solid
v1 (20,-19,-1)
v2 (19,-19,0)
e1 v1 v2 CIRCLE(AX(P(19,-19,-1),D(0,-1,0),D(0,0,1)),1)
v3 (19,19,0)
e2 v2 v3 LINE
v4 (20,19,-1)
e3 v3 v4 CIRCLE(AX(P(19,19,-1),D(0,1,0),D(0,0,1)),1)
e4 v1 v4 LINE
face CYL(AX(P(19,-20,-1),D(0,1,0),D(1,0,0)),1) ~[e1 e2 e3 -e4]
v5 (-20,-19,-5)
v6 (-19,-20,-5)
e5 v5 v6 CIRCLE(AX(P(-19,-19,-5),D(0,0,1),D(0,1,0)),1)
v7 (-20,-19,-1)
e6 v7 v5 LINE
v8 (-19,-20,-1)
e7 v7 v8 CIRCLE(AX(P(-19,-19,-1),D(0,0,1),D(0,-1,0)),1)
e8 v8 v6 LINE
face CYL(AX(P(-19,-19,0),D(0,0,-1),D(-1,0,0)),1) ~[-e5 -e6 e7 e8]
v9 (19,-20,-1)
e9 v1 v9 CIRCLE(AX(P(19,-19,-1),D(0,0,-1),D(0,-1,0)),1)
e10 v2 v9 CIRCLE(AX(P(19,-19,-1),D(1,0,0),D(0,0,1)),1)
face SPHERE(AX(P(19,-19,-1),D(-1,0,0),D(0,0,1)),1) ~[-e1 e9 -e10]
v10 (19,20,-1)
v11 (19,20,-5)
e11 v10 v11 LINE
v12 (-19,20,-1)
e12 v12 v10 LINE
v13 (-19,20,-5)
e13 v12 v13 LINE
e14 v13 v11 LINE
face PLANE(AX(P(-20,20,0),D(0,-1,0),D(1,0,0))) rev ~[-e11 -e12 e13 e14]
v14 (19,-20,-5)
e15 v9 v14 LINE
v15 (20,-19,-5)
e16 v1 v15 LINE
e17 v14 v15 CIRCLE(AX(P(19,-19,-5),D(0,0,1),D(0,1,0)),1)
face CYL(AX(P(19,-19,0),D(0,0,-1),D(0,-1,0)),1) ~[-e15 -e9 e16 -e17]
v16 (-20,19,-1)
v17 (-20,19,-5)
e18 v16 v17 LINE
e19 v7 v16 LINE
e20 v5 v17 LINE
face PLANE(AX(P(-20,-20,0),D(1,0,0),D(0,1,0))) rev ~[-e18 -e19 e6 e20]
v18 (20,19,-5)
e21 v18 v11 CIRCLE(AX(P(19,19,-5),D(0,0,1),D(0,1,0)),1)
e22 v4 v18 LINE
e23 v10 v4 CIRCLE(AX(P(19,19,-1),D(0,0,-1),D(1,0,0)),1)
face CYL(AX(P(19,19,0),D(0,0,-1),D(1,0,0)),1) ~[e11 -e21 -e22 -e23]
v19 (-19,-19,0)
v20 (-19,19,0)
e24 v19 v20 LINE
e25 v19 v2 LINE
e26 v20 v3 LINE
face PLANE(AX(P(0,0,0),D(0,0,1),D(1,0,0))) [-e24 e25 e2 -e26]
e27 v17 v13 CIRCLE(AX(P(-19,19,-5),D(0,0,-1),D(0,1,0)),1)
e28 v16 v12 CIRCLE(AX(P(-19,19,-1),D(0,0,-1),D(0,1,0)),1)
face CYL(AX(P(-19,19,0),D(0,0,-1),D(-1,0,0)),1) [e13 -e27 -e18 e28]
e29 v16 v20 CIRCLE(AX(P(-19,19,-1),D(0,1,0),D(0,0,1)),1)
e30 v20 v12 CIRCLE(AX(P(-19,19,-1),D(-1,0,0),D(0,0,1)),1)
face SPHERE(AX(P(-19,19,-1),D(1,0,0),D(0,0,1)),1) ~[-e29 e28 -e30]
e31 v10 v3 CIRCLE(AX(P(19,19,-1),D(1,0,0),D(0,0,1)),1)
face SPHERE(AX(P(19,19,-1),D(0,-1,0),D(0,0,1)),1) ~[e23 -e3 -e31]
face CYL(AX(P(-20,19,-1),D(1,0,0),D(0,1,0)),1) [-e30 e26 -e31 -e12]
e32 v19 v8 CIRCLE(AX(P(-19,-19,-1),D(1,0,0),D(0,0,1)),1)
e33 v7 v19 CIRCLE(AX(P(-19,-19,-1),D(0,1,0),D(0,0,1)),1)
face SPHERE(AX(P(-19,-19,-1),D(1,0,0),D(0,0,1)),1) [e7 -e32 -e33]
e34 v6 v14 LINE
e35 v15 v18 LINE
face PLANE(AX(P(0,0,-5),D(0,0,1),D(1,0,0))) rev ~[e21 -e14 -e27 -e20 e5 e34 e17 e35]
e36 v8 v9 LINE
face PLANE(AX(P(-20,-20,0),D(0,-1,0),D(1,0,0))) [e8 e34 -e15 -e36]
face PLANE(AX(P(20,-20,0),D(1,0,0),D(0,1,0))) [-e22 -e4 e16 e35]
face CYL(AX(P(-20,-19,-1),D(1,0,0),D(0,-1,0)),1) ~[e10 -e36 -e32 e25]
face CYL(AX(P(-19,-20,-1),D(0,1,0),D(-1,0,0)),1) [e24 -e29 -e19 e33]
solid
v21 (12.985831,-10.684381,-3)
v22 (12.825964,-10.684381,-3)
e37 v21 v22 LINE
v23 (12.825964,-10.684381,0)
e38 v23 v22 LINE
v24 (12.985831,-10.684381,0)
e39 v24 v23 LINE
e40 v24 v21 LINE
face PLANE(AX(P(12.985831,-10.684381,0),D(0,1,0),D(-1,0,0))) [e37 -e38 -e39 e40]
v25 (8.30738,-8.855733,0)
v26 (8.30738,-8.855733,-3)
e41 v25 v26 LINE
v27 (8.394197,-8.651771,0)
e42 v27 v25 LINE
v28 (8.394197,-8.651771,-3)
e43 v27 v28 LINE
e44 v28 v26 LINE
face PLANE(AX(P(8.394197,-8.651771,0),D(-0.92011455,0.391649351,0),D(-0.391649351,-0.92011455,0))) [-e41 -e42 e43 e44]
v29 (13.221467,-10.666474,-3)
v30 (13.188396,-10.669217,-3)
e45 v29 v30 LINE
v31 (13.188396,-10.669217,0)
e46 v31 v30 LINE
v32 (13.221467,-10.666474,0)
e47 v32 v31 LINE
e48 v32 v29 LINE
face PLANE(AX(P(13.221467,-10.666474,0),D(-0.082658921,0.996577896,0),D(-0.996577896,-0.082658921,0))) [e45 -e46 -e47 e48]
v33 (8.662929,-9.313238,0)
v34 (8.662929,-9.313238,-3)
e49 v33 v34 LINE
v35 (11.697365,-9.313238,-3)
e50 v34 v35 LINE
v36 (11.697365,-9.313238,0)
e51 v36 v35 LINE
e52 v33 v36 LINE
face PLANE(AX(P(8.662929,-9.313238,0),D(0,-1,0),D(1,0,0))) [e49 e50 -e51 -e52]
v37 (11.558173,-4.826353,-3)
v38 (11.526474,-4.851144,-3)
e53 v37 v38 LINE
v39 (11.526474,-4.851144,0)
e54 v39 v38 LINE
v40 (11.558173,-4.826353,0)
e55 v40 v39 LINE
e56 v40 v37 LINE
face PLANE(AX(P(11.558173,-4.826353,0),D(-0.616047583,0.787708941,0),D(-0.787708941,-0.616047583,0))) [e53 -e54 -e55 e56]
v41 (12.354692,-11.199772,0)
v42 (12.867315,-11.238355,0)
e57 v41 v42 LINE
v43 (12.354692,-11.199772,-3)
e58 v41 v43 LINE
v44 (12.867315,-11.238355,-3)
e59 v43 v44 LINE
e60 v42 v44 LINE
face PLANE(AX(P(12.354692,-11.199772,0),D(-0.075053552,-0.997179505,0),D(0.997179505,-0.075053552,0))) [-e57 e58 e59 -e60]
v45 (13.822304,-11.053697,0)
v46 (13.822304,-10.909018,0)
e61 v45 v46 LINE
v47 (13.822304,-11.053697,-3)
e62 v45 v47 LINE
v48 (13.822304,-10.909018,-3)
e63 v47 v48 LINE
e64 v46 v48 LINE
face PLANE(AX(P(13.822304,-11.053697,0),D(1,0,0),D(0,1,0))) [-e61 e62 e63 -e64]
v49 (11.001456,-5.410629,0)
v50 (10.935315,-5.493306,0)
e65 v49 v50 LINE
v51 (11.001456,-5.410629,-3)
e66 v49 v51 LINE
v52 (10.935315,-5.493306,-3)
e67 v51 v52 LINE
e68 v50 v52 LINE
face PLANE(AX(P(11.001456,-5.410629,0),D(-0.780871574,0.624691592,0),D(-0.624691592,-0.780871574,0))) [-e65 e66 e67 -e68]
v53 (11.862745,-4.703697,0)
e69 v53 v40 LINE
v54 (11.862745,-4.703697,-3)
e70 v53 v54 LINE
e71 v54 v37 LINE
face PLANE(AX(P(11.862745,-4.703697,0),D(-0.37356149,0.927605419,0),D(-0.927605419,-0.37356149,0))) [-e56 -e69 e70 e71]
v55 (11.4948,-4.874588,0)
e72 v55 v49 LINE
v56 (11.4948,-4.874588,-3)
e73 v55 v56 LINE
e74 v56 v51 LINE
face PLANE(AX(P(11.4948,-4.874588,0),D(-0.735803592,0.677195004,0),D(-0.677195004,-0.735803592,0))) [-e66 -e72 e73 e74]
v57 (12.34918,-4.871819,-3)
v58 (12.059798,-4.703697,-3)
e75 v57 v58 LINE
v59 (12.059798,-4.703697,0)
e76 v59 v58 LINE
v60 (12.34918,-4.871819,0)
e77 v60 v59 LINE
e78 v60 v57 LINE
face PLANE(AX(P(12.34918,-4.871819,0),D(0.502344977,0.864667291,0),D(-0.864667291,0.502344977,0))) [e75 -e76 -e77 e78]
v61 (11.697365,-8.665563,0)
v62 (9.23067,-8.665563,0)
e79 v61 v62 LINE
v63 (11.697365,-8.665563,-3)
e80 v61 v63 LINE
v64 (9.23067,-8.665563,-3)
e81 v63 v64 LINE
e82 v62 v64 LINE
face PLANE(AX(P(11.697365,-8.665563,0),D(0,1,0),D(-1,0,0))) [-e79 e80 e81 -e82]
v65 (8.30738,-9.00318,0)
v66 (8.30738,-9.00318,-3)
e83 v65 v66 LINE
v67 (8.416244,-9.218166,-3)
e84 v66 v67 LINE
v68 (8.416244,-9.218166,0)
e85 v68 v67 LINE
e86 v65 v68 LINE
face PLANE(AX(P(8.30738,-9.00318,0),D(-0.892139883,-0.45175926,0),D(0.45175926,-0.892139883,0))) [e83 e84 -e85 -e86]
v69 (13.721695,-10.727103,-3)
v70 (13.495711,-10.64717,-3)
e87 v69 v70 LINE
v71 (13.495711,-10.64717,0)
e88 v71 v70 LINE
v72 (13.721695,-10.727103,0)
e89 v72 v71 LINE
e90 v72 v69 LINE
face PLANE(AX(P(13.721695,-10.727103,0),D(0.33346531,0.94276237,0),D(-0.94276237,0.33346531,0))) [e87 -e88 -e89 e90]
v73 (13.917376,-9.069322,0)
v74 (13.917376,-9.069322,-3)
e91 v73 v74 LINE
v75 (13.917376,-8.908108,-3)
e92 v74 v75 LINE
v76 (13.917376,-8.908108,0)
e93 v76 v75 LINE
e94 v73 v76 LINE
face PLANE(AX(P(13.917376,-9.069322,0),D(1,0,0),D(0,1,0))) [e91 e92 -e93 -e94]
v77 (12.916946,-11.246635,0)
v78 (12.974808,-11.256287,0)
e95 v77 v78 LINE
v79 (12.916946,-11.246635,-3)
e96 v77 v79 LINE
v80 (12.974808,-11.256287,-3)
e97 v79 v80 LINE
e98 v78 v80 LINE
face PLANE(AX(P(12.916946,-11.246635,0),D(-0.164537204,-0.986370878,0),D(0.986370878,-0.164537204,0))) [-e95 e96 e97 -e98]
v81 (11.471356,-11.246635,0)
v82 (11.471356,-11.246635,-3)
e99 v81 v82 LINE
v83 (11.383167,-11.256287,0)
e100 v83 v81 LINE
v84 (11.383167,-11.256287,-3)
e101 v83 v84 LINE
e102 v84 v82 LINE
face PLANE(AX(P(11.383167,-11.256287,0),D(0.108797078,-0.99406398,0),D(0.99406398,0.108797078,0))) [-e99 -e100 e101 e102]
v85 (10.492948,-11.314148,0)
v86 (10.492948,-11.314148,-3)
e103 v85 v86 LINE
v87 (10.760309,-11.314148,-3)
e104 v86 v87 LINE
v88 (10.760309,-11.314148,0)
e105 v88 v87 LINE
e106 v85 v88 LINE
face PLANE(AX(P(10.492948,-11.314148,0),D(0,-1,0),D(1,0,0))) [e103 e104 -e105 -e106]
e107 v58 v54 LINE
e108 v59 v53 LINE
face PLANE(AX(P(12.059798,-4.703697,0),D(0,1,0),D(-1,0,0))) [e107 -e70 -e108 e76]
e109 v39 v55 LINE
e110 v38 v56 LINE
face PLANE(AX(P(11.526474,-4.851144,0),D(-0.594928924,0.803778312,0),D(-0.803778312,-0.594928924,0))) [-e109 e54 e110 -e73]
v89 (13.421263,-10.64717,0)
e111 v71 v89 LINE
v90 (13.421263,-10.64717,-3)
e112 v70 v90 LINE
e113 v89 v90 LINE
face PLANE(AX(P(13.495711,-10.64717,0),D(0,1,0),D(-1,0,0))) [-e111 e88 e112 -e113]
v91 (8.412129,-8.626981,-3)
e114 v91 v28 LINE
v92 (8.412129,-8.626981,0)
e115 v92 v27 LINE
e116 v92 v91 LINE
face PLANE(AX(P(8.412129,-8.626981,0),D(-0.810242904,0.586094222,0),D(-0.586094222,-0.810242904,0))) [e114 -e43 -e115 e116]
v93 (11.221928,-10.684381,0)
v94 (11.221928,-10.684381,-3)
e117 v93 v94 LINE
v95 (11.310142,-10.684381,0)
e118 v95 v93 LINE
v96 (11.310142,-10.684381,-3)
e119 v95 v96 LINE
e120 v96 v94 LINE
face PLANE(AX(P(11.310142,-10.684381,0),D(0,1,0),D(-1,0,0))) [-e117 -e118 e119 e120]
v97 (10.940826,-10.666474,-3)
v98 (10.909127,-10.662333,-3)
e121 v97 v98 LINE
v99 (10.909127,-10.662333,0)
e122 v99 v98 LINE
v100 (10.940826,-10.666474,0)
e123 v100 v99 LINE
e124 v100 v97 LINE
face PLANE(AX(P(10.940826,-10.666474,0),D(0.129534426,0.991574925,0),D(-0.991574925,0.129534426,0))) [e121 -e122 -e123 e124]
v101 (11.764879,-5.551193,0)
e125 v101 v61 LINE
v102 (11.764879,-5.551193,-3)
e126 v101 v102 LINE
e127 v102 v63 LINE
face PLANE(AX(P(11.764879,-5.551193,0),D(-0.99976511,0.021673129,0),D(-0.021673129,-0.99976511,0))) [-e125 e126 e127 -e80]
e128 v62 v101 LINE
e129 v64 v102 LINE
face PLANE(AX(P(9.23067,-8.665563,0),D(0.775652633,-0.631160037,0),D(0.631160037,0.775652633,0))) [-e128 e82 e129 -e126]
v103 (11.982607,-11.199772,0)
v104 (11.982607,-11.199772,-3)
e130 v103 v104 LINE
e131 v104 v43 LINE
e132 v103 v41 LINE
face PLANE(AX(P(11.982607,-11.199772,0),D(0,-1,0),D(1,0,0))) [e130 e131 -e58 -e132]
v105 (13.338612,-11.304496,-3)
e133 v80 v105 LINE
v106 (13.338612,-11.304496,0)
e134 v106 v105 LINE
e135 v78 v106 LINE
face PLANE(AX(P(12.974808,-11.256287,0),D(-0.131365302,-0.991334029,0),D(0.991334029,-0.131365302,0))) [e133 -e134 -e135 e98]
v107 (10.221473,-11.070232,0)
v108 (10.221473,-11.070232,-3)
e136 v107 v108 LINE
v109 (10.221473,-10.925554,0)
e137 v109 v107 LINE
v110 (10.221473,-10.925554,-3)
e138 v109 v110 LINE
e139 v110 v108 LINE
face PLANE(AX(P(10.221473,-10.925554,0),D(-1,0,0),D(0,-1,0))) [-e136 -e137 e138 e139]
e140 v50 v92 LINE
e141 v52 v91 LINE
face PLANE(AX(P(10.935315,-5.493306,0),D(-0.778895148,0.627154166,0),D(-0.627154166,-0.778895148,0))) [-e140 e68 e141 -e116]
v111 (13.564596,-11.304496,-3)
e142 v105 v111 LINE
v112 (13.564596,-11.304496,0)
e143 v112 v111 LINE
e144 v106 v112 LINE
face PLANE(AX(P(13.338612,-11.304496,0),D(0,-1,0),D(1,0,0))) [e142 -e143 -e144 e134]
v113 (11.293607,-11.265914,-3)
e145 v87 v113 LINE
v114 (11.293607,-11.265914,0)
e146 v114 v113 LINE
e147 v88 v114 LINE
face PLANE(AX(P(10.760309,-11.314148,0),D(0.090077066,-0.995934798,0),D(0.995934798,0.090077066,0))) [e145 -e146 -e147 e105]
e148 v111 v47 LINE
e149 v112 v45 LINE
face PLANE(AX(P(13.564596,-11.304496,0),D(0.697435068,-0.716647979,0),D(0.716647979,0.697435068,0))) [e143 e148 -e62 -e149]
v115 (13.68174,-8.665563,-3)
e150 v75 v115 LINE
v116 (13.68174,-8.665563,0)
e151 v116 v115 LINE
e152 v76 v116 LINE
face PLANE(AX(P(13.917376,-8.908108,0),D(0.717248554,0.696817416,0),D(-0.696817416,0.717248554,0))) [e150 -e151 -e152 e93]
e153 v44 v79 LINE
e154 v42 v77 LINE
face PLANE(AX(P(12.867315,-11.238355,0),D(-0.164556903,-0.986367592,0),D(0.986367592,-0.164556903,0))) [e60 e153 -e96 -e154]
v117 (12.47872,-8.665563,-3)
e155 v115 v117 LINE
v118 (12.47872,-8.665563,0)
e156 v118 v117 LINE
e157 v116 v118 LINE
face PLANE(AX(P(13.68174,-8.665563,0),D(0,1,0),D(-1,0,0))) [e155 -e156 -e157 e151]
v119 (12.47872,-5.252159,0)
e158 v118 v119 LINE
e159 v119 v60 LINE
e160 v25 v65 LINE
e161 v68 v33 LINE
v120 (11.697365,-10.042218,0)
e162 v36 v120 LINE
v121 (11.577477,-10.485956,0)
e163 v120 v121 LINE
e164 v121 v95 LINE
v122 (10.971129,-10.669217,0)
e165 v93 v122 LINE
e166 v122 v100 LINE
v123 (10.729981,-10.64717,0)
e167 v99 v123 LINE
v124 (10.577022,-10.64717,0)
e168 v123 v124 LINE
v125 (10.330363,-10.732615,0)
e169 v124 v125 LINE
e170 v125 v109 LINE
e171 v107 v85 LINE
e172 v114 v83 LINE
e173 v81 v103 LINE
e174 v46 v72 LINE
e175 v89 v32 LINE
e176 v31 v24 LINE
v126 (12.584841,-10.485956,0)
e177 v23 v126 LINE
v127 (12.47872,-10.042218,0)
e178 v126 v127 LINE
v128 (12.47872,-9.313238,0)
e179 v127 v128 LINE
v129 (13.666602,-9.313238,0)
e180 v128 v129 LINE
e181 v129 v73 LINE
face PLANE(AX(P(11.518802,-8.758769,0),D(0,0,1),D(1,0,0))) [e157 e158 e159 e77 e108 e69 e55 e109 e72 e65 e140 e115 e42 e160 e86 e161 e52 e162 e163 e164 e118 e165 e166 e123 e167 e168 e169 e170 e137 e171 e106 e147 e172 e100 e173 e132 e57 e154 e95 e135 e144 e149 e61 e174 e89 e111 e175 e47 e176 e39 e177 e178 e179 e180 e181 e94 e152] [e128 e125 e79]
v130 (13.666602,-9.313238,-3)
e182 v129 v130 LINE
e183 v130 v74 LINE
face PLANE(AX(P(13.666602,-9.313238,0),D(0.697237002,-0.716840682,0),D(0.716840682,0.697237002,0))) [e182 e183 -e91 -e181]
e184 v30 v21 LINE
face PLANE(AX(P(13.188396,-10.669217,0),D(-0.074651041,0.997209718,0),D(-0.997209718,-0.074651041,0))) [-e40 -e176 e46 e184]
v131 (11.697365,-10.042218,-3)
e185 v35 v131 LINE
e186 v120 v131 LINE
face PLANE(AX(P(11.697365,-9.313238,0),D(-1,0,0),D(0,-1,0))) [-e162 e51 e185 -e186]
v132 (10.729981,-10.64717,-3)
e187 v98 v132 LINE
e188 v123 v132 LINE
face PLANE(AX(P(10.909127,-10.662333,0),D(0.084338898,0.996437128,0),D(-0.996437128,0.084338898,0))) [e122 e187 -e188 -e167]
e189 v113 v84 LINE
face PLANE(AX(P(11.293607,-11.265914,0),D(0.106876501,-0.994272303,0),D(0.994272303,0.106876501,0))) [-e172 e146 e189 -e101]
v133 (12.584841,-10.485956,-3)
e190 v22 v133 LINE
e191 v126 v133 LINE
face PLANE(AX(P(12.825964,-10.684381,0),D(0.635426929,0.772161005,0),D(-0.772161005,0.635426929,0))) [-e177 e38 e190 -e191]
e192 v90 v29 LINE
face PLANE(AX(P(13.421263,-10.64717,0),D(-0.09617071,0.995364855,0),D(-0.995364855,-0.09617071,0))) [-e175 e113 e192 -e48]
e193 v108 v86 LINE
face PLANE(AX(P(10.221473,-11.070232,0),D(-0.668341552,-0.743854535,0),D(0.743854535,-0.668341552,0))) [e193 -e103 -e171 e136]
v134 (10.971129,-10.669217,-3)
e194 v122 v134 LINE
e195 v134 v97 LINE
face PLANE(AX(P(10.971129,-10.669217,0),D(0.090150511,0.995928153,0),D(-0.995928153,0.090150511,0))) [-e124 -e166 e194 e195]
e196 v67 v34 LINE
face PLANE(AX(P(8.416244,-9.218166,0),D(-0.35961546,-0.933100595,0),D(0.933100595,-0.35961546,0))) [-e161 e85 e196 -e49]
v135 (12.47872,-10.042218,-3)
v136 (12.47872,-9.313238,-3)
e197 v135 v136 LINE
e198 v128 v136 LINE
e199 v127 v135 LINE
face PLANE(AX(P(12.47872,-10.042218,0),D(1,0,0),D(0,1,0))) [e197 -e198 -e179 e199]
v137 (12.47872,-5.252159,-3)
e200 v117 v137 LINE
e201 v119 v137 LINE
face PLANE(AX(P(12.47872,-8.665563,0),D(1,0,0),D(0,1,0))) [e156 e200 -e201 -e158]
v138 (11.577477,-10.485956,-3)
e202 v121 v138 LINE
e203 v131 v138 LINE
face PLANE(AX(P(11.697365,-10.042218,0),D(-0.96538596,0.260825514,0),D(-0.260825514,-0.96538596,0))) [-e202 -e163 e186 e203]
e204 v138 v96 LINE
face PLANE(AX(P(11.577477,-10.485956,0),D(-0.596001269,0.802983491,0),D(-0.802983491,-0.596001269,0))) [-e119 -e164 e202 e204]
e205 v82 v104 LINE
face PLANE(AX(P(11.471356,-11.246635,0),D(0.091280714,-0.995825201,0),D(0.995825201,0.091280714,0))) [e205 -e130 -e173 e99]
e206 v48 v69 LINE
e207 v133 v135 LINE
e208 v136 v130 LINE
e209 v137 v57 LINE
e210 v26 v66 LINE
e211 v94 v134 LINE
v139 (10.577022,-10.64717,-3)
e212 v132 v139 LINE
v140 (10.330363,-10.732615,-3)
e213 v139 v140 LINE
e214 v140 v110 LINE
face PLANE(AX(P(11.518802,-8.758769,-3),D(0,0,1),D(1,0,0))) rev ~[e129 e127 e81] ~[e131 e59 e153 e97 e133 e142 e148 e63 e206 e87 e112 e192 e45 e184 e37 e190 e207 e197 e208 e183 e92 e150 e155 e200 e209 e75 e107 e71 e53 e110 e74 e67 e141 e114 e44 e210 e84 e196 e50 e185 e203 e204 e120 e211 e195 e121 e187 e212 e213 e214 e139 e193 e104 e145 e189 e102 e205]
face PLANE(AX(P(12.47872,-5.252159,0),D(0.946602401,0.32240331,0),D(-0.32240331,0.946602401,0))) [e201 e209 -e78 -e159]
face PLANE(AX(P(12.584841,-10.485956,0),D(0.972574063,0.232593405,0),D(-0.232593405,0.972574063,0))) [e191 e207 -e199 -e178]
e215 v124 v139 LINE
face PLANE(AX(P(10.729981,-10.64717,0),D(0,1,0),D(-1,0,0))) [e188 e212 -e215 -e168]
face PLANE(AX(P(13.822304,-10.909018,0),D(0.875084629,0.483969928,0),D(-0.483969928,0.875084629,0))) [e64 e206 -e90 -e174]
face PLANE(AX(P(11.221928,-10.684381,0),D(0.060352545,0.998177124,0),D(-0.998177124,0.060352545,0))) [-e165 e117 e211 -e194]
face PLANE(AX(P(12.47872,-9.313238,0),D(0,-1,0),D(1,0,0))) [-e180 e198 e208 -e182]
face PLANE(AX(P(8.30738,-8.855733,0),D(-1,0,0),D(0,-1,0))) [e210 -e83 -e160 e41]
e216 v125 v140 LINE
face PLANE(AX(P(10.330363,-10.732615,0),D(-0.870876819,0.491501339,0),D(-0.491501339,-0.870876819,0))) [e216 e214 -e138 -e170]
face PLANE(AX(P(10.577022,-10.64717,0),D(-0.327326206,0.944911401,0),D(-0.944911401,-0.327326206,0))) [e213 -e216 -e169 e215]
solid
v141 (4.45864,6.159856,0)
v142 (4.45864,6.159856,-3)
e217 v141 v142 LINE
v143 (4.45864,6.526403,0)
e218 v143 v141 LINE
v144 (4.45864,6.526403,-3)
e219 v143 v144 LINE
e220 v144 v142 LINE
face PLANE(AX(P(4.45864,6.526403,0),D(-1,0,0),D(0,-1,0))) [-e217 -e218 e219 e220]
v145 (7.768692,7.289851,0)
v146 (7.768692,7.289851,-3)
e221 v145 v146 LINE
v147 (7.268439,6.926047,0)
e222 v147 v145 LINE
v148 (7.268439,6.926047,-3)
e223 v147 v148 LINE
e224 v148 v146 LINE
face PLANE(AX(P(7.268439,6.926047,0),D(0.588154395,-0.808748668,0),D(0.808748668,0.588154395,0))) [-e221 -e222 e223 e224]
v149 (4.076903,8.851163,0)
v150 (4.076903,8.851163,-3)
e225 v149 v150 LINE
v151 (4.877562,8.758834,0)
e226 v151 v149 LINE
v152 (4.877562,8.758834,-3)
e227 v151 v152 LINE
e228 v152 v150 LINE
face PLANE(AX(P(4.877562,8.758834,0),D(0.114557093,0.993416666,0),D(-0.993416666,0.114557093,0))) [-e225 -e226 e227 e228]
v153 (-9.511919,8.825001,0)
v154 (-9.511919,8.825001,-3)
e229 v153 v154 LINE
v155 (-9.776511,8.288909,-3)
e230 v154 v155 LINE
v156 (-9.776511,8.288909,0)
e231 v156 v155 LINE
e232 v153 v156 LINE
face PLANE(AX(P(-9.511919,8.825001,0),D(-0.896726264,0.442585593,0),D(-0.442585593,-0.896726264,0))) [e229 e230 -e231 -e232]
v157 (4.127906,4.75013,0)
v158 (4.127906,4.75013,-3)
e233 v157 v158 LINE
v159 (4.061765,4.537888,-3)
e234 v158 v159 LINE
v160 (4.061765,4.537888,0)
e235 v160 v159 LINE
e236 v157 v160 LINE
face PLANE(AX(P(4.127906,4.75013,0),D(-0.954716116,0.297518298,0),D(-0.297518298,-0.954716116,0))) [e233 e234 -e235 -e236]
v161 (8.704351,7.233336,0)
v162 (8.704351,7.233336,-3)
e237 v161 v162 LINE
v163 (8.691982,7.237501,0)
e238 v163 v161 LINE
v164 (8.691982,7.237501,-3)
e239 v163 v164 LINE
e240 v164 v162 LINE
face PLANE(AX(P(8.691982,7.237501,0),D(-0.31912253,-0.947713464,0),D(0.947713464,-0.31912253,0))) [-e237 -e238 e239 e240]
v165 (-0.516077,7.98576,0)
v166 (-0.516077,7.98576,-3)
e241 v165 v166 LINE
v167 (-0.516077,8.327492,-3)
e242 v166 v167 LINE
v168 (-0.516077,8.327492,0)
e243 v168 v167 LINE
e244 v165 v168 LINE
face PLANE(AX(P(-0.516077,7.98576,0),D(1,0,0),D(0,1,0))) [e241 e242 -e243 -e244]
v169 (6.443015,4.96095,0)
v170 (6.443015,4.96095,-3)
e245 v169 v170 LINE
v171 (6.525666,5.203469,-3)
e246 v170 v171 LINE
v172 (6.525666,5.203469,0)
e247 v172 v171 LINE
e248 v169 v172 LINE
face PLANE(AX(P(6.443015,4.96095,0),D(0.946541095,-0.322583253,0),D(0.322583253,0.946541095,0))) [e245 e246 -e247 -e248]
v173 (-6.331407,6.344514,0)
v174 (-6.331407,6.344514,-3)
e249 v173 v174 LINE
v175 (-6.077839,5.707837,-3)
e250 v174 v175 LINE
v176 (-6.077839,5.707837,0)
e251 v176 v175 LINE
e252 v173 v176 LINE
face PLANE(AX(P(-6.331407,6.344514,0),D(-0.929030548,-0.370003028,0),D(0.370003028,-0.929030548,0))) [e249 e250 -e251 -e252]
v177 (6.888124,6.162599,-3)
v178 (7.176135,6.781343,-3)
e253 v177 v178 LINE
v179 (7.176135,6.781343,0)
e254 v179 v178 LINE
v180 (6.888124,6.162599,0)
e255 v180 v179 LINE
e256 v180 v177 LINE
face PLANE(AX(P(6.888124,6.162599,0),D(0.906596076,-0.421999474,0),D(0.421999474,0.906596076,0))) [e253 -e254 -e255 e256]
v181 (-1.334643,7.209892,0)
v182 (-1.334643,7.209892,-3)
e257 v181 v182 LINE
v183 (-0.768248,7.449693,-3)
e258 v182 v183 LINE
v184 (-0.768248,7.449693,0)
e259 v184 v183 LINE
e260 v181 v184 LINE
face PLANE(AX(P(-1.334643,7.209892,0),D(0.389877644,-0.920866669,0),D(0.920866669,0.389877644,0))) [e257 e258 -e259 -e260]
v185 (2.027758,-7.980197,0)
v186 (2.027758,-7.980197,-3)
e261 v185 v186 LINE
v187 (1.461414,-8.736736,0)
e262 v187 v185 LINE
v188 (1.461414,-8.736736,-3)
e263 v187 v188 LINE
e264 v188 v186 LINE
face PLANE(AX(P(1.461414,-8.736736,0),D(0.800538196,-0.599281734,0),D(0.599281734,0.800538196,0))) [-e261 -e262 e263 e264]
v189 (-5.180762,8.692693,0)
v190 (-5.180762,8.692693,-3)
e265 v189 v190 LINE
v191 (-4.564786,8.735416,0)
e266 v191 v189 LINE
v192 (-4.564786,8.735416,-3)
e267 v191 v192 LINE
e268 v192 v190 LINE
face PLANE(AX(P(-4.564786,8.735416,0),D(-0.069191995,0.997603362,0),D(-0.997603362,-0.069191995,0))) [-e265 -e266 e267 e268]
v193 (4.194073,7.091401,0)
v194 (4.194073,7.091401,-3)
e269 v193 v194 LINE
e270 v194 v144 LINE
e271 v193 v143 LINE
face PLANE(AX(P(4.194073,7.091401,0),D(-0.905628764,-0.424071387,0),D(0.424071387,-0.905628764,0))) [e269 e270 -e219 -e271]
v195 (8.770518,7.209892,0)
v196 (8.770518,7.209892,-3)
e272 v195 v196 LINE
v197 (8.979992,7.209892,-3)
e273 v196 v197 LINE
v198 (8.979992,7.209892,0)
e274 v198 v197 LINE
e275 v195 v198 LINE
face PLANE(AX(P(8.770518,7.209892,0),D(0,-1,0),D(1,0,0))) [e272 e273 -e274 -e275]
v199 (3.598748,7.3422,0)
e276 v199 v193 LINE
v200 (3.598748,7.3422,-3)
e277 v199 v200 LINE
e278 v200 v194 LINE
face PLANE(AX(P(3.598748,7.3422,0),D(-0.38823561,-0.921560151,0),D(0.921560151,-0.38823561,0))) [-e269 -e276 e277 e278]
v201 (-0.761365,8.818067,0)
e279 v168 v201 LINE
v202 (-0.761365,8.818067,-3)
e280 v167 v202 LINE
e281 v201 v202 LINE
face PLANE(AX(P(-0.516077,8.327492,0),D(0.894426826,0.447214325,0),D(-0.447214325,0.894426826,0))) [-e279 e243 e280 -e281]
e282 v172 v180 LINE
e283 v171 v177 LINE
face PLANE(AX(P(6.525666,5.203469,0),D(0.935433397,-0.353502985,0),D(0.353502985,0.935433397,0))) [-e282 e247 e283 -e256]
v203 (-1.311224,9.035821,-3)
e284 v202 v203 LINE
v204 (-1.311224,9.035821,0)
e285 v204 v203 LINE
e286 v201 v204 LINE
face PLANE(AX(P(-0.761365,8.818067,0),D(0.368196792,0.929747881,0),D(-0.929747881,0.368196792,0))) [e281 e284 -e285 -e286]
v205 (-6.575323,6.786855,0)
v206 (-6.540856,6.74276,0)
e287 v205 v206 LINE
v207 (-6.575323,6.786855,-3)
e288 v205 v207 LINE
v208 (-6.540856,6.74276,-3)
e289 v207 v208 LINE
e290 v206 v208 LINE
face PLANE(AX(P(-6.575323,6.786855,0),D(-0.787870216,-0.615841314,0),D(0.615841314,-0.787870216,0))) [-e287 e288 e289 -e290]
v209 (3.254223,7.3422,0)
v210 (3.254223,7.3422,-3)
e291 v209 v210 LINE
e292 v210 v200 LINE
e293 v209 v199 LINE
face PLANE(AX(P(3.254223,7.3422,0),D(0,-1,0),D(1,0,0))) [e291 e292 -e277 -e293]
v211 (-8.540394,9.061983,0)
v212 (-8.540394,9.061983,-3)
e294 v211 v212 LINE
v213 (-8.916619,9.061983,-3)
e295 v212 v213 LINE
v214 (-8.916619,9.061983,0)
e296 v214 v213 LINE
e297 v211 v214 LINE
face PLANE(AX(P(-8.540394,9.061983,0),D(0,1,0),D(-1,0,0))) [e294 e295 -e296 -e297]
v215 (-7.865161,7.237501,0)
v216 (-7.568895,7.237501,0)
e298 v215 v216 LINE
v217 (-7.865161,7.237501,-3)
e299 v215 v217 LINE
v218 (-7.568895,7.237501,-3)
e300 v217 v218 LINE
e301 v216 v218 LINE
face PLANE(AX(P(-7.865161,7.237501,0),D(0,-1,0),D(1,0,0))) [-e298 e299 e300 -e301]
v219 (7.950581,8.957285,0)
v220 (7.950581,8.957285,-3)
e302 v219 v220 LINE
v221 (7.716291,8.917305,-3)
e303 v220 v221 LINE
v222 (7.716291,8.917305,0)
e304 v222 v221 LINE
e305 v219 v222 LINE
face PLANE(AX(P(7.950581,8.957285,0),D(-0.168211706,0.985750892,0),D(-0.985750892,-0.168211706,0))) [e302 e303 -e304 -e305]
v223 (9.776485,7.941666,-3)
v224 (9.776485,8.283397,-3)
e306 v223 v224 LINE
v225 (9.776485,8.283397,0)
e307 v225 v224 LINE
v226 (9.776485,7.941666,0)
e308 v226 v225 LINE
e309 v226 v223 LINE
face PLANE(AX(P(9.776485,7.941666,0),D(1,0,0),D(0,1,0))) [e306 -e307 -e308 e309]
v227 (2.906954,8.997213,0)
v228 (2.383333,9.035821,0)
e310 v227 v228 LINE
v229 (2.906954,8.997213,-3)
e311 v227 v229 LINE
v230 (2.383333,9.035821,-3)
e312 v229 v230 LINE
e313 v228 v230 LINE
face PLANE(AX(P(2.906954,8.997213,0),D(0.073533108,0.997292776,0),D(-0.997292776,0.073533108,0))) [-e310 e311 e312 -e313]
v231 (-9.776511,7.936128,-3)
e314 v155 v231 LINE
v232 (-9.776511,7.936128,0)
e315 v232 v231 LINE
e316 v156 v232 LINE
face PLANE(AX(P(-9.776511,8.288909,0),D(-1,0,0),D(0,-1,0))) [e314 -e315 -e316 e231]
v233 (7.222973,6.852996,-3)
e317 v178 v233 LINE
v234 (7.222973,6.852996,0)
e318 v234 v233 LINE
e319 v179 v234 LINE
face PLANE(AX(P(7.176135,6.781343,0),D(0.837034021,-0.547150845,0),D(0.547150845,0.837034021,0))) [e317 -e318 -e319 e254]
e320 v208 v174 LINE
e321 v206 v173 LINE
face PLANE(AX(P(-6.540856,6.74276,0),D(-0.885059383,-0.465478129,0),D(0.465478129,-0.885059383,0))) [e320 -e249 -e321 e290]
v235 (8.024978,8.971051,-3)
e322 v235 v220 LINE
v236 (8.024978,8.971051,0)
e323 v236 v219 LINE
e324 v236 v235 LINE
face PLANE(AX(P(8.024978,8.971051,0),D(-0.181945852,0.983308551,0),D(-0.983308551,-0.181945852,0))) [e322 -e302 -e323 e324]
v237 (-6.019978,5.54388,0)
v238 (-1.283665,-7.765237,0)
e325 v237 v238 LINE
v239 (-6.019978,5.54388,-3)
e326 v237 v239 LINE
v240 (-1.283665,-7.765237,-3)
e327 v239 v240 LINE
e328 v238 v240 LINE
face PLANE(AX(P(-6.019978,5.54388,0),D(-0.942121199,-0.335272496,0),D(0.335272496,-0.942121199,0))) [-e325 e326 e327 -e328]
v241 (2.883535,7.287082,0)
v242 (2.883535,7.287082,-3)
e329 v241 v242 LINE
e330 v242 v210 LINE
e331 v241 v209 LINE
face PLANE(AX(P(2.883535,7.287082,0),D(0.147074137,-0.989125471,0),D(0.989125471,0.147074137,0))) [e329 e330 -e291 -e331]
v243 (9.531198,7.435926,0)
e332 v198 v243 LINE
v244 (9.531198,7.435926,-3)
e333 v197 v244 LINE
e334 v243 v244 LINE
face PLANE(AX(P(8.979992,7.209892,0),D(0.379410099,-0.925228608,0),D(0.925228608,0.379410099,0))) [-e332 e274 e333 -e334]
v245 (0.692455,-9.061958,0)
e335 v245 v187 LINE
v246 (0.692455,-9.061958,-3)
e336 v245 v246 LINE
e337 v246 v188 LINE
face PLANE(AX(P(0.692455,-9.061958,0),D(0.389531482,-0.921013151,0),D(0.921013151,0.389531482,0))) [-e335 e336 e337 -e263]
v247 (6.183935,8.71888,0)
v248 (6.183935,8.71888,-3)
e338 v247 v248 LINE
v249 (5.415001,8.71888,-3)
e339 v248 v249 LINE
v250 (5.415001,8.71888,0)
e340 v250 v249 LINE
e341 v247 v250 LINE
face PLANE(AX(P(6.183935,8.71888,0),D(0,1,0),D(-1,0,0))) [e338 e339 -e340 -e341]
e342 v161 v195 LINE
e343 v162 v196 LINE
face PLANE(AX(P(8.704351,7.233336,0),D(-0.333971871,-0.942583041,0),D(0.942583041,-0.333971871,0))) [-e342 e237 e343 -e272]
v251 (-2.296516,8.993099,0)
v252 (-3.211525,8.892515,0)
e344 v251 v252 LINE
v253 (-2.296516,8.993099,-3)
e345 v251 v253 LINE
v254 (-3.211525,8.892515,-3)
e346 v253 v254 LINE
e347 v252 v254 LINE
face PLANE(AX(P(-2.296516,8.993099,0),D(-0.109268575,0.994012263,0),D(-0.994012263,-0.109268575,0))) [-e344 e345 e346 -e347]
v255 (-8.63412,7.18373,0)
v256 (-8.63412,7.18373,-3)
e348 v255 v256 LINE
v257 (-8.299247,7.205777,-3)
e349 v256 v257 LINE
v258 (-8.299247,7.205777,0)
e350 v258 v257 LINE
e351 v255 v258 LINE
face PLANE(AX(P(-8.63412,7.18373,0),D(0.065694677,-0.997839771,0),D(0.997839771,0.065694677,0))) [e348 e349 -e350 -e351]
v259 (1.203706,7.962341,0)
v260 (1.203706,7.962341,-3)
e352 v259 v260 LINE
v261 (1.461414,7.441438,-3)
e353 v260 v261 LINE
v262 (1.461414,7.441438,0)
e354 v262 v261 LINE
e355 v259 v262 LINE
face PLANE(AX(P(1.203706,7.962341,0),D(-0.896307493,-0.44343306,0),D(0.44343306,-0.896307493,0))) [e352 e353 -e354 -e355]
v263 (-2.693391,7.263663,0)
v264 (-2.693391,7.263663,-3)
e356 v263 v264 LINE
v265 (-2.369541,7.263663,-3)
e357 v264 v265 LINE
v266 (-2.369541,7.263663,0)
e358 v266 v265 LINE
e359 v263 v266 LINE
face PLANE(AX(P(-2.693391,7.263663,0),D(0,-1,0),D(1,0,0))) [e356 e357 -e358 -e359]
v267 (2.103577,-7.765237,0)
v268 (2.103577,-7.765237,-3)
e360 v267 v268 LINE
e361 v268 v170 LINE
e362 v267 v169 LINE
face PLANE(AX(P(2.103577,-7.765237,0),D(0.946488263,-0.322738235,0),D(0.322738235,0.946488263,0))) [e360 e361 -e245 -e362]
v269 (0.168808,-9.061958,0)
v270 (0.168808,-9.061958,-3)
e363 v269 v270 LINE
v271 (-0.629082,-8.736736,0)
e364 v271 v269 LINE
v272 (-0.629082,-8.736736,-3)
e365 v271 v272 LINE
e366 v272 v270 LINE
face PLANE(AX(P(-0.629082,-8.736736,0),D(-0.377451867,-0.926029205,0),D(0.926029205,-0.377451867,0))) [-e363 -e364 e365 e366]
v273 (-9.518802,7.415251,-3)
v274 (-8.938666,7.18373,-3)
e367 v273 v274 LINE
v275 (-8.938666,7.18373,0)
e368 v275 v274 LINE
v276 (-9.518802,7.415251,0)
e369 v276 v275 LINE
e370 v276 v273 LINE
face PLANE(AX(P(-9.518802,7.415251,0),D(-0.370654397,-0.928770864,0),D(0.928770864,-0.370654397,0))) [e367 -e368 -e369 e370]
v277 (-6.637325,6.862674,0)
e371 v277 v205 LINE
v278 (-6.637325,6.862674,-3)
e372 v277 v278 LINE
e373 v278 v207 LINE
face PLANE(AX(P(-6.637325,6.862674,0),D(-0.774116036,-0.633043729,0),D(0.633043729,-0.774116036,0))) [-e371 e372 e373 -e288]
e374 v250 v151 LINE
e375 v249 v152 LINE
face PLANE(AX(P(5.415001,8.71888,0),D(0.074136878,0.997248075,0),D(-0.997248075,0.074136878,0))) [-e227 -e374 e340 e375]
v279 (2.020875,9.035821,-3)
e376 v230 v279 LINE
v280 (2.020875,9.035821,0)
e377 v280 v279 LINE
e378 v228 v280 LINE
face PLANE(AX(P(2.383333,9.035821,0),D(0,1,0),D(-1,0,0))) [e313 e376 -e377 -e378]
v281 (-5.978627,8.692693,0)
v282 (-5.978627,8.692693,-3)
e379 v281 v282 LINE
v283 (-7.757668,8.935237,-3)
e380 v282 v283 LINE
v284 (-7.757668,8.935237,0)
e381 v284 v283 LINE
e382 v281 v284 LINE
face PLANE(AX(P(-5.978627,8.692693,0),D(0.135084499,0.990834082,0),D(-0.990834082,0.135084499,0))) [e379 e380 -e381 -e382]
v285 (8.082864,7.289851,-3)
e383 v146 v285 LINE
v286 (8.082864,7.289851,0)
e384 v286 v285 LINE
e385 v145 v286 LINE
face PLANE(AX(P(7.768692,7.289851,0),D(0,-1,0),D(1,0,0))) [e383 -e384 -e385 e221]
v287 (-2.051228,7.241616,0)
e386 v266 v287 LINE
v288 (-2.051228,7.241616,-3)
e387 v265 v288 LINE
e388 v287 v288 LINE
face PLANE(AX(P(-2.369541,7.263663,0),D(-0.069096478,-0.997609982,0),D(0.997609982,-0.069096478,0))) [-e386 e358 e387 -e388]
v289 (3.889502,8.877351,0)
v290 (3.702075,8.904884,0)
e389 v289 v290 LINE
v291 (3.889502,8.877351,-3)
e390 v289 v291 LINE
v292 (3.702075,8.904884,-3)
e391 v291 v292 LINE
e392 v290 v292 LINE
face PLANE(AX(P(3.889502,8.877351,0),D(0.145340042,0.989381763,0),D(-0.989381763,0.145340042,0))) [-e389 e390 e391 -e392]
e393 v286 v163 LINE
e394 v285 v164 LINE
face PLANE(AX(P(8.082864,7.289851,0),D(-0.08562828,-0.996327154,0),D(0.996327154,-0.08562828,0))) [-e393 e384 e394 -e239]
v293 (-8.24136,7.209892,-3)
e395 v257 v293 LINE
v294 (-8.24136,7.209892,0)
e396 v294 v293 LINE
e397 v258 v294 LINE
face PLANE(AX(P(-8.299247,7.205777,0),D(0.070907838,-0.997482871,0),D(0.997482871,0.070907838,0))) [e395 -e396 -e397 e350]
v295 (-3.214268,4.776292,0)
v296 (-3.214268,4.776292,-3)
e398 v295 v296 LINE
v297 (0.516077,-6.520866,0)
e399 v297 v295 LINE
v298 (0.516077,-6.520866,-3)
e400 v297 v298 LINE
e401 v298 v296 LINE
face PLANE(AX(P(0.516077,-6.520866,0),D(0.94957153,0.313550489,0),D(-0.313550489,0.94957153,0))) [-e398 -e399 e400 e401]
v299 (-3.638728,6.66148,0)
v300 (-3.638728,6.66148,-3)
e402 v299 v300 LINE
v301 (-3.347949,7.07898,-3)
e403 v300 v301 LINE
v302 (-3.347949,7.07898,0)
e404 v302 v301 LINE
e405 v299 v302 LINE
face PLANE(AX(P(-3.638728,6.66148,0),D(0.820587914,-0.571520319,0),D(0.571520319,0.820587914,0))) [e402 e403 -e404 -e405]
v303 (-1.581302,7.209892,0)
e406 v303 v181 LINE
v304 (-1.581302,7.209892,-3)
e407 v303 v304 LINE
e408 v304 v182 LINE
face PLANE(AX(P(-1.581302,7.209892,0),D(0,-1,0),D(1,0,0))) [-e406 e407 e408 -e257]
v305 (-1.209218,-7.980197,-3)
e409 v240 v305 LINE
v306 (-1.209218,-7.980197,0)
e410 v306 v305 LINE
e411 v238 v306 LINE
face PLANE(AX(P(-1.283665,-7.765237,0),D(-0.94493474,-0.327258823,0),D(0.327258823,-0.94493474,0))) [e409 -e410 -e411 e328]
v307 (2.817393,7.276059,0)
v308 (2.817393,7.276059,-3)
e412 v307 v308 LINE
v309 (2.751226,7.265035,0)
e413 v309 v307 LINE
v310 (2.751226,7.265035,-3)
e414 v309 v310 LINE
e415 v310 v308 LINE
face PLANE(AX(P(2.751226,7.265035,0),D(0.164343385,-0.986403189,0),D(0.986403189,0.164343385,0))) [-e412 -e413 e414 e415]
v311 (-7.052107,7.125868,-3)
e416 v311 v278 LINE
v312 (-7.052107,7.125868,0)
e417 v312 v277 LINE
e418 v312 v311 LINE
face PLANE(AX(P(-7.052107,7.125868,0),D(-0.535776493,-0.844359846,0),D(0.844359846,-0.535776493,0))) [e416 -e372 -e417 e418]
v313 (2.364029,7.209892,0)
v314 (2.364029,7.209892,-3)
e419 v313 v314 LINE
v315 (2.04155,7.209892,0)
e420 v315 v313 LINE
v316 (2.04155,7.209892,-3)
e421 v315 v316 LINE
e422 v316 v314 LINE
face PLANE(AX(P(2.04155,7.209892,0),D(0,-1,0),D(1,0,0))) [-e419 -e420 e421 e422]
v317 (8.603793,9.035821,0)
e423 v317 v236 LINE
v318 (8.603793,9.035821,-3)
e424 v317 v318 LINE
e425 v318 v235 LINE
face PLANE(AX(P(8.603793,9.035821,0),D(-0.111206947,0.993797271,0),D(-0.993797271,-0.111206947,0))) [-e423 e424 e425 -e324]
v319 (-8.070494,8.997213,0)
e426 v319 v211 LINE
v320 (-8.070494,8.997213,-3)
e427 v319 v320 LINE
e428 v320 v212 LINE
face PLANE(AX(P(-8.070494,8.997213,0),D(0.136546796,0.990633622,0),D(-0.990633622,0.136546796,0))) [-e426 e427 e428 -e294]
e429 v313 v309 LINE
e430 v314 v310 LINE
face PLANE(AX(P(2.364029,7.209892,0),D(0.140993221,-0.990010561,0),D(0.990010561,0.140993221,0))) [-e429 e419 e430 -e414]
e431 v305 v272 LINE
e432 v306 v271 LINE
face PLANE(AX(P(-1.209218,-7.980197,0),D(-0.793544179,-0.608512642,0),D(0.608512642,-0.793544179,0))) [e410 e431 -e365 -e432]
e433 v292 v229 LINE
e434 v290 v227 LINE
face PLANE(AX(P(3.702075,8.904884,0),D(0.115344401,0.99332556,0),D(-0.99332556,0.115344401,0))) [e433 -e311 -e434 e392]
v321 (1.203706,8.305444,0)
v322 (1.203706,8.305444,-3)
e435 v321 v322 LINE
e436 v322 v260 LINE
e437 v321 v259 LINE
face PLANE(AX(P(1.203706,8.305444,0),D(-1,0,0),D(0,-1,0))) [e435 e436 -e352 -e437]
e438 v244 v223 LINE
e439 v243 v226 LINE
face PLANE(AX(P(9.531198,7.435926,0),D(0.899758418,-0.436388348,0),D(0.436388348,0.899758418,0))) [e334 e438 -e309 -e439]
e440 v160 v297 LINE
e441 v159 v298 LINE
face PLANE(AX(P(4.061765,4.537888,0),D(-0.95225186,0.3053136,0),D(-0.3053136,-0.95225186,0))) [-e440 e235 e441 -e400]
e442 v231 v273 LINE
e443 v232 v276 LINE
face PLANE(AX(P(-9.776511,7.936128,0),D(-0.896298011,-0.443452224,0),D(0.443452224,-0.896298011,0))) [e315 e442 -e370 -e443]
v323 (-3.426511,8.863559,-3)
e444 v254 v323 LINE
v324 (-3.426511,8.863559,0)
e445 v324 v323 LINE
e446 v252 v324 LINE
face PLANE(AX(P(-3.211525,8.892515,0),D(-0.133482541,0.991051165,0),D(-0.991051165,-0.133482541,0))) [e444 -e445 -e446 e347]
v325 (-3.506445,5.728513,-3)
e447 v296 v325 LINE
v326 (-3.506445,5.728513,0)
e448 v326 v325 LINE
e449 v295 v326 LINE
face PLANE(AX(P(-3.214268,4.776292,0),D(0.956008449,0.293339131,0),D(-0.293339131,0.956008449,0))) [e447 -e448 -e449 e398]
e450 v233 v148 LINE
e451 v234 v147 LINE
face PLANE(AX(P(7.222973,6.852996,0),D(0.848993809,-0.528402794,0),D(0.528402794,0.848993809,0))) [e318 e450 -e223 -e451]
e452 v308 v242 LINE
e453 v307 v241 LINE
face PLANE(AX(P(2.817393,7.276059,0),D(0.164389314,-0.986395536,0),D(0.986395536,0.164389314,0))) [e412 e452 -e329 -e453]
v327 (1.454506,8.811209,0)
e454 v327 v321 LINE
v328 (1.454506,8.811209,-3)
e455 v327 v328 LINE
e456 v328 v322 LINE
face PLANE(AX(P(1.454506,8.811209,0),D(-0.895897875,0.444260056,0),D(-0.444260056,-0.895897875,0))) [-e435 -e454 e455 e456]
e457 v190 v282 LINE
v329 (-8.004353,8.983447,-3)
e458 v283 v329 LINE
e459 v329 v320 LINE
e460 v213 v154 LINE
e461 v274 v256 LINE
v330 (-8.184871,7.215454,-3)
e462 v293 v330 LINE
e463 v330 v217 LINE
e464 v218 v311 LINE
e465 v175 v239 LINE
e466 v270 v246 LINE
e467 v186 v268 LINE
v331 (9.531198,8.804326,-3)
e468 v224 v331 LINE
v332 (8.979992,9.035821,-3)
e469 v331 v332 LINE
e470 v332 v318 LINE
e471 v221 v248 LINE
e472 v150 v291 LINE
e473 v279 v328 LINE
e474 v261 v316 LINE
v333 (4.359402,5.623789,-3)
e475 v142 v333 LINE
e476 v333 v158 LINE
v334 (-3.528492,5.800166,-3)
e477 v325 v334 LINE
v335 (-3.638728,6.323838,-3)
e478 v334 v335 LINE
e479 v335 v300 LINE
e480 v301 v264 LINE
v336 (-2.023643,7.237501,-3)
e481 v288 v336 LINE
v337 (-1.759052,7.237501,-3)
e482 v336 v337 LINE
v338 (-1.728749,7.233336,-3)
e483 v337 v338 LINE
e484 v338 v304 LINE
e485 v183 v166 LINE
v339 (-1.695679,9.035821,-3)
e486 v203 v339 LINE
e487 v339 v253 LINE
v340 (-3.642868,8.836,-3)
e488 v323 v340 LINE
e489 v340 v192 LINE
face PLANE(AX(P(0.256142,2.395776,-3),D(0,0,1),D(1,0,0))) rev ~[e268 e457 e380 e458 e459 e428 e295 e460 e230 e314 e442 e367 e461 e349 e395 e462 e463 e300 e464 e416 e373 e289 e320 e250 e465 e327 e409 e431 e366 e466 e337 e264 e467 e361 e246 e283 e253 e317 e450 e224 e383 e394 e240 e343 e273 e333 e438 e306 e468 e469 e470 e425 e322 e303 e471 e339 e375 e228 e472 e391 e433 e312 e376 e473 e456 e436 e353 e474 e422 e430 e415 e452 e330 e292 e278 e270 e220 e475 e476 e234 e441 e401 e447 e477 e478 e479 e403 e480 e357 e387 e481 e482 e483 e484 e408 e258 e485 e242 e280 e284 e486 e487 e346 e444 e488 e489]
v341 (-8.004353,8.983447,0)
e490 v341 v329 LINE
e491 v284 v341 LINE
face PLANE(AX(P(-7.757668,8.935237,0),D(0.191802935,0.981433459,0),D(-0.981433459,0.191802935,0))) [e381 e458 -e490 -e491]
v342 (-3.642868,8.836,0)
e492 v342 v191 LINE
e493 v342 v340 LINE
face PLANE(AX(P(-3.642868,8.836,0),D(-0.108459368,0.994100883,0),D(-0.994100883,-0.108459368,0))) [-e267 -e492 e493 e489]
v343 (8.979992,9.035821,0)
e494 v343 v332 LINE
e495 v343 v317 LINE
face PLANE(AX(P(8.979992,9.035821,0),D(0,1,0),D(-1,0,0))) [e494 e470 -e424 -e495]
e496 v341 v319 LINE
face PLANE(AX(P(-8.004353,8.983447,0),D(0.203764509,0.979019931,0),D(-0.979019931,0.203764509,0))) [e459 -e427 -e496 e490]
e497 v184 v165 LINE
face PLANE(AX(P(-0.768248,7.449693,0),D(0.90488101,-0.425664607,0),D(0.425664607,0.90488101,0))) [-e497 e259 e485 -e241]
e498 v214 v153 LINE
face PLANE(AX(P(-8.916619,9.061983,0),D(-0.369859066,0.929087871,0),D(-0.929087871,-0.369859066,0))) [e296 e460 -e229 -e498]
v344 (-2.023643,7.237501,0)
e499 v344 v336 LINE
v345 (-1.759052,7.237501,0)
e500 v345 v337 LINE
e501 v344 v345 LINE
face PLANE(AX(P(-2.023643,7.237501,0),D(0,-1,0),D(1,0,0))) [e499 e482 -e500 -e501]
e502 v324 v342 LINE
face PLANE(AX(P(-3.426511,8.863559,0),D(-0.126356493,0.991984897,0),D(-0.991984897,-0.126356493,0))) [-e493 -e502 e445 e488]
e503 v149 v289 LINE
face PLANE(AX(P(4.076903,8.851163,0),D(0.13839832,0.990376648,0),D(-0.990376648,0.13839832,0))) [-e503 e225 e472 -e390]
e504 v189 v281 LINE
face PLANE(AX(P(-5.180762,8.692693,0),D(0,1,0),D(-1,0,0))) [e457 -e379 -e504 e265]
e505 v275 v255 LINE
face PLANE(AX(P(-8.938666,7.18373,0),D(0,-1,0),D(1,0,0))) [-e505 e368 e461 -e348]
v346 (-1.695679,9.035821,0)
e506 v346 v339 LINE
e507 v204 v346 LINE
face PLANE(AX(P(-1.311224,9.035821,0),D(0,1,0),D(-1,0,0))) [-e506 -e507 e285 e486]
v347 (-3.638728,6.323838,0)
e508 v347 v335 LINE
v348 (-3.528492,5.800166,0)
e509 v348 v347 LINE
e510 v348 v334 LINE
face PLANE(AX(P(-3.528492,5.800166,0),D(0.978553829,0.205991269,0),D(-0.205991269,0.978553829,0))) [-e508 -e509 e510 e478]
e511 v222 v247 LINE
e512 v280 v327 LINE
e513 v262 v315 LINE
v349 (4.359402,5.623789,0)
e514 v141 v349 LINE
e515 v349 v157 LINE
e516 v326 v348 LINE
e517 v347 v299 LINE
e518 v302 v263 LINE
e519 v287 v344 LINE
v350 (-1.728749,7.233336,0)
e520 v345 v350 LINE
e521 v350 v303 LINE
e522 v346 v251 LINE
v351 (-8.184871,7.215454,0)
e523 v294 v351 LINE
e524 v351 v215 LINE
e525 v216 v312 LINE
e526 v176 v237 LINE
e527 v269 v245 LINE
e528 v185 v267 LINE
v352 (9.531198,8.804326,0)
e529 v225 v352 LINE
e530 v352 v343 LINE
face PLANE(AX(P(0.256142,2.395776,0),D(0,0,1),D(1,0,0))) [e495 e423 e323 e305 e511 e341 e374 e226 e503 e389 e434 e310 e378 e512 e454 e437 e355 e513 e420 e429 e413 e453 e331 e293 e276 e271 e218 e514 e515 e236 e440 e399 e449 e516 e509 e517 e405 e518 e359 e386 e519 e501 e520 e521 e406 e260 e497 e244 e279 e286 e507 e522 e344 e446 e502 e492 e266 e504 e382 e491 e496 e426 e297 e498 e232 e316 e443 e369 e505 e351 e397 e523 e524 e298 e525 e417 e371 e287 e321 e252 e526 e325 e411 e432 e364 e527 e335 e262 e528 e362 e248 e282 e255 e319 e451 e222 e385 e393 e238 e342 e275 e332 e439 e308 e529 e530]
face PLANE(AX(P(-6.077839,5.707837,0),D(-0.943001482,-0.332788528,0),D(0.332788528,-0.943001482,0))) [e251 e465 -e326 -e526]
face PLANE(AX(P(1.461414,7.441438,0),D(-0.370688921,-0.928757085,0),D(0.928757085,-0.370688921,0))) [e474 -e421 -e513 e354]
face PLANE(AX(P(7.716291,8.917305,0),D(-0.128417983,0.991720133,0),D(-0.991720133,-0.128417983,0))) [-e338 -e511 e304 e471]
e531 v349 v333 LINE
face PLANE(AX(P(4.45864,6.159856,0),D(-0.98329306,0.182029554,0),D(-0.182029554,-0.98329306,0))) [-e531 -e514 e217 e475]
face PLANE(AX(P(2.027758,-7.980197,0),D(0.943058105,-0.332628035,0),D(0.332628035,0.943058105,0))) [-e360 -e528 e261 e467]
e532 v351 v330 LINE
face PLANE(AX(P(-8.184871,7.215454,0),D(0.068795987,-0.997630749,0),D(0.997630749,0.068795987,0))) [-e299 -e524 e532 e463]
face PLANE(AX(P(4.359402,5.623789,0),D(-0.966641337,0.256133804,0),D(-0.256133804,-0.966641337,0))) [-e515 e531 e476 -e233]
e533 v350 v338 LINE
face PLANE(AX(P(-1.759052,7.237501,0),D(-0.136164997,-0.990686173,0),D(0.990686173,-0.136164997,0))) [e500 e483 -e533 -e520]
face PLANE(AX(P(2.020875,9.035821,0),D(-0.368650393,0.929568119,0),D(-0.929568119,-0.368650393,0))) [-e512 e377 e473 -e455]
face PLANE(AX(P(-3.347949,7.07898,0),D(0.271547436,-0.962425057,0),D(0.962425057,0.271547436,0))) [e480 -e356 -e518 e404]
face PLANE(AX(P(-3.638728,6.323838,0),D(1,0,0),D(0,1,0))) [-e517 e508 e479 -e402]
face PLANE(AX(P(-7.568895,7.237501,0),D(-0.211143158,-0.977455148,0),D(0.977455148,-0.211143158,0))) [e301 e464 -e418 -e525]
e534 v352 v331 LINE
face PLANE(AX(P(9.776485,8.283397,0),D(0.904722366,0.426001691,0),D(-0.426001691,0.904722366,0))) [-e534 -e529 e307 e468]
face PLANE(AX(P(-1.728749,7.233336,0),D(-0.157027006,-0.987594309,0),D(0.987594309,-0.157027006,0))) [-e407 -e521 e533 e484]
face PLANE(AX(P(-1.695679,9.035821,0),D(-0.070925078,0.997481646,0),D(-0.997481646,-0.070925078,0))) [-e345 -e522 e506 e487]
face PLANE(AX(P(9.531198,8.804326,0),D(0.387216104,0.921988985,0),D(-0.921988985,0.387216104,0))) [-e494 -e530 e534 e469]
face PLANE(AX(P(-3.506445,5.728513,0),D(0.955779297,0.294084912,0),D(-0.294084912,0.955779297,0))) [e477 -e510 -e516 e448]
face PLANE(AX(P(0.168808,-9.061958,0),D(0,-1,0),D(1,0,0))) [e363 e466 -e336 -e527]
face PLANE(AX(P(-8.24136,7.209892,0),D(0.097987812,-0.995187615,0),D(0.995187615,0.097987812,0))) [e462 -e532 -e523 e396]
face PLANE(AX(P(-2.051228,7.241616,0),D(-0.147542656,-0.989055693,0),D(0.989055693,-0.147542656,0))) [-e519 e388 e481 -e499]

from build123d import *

# Parameters (mm, degrees)
F0_W     = 40
F0_H     = 40
F1_DEPTH = 5
F2_R     = 1
F5_DEPTH = 3


with BuildPart() as f1:
    # F0 (on Top) → F1 (new body)
    with BuildSketch(Plane.XY):
        Rectangle(F0_W, F0_H)
    extrude(amount=-F1_DEPTH)

    # F2
    f2_edges = [f1.edges().sort_by_distance(p)[0] for p in [
        (0, -20, 0),
        (20, 0, 0),
        (0, 20, 0),
        (-20, 0, 0),
        (-20, 20, -2.5),
        (20, 20, -2.5),
        (-20, -20, -2.5),
        (20, -20, -2.5),
    ]]
    fillet(f2_edges, radius=F2_R)


with BuildPart() as f5:
    # F3 (on Top) + F4 (on Top) → F5 (new body)
    with BuildSketch(Plane.XY):
        Polygon((0.516077, -6.520866), (-3.214268, 4.776292), (-3.506445, 5.728513), (-3.528492, 5.800166), (-3.638728, 6.323838), (-3.638728, 6.522263), (-3.638728, 6.66148), (-3.347949, 7.07898), (-2.693391, 7.263663), (-2.47429, 7.263663), (-2.369541, 7.263663), (-2.051228, 7.241616), (-2.023643, 7.237501), (-1.759052, 7.237501), (-1.728749, 7.233336), (-1.581302, 7.209892), (-1.52207, 7.209892), (-1.334643, 7.209892), (-0.768248, 7.449693), (-0.516077, 7.98576), (-0.516077, 8.163535), (-0.516077, 8.327492), (-0.761365, 8.818067), (-1.311224, 9.035821), (-1.494485, 9.035821), (-1.695679, 9.035821), (-2.296516, 8.993099), (-3.211525, 8.892515), (-3.426511, 8.863559), (-3.642868, 8.836), (-4.564786, 8.735416), (-5.180762, 8.692693), (-5.384698, 8.692693), (-5.978627, 8.692693), (-7.757668, 8.935237), (-8.004353, 8.983447), (-8.070494, 8.997213), (-8.540394, 9.061983), (-8.718169, 9.061983), (-8.916619, 9.061983), (-9.511919, 8.825001), (-9.776511, 8.288909), (-9.776511, 8.109763), (-9.776511, 7.936128), (-9.518802, 7.415251), (-8.938666, 7.18373), (-8.744356, 7.18373), (-8.63412, 7.18373), (-8.299247, 7.205777), (-8.24136, 7.209892), (-8.184871, 7.215454), (-7.865161, 7.237501), (-7.739761, 7.237501), (-7.568895, 7.237501), (-7.052107, 7.125868), (-6.637325, 6.862674), (-6.575323, 6.786855), (-6.540856, 6.74276), (-6.331407, 6.344514), (-6.077839, 5.707837), (-6.019978, 5.54388), (-1.283665, -7.765237), (-1.209218, -7.980197), (-0.629082, -8.736736), (0.168808, -9.061958), (0.436143, -9.061958), (0.692455, -9.061958), (1.461414, -8.736736), (2.027758, -7.980197), (2.103577, -7.765237), (6.443015, 4.96095), (6.525666, 5.203469), (6.888124, 6.162599), (7.176135, 6.781343), (7.222973, 6.852996), (7.268439, 6.926047), (7.768692, 7.289851), (7.950581, 7.289851), (8.082864, 7.289851), (8.691982, 7.237501), (8.704351, 7.233336), (8.770518, 7.209892), (8.79668, 7.209892), (8.979992, 7.209892), (9.531198, 7.435926), (9.776485, 7.941666), (9.776485, 8.109763), (9.776485, 8.283397), (9.531198, 8.804326), (8.979992, 9.035821), (8.79668, 9.035821), (8.603793, 9.035821), (8.024978, 8.971051), (7.950581, 8.957285), (7.716291, 8.917305), (6.183935, 8.71888), (5.595518, 8.71888), (5.415001, 8.71888), (4.877562, 8.758834), (4.076903, 8.851163), (3.889502, 8.877351), (3.702075, 8.904884), (2.906954, 8.997213), (2.383333, 9.035821), (2.209698, 9.035821), (2.020875, 9.035821), (1.454506, 8.811209), (1.203706, 8.305444), (1.203706, 8.13595), (1.203706, 7.962341), (1.461414, 7.441438), (2.04155, 7.209892), (2.23586, 7.209892), (2.364029, 7.209892), (2.751226, 7.265035), (2.817393, 7.276059), (2.883535, 7.287082), (3.254223, 7.3422), (3.400323, 7.3422), (3.598748, 7.3422), (4.194073, 7.091401), (4.45864, 6.526403), (4.45864, 6.33763), (4.45864, 6.159856), (4.359402, 5.623789), (4.127906, 4.75013), (4.061765, 4.537888), align=None)
    with BuildSketch(Plane.XY):
        Polygon((12.47872, -8.665563), (12.47872, -5.37893), (12.47872, -5.252159), (12.34918, -4.871819), (12.059798, -4.703697), (11.9647, -4.703697), (11.862745, -4.703697), (11.558173, -4.826353), (11.526474, -4.851144), (11.4948, -4.874588), (11.001456, -5.410629), (10.935315, -5.493306), (8.412129, -8.626981), (8.394197, -8.651771), (8.30738, -8.855733), (8.30738, -8.932898), (8.30738, -9.00318), (8.416244, -9.218166), (8.662929, -9.313238), (8.745606, -9.313238), (11.697365, -9.313238), (11.697365, -9.894771), (11.697365, -10.042218), (11.577477, -10.485956), (11.310142, -10.684381), (11.221928, -10.684381), (10.971129, -10.669217), (10.940826, -10.666474), (10.909127, -10.662333), (10.729981, -10.64717), (10.659699, -10.64717), (10.577022, -10.64717), (10.330363, -10.732615), (10.221473, -10.925554), (10.221473, -10.990324), (10.221473, -11.070232), (10.492948, -11.314148), (10.583906, -11.314148), (10.760309, -11.314148), (11.293607, -11.265914), (11.383167, -11.256287), (11.471356, -11.246635), (11.982607, -11.199772), (12.183801, -11.199772), (12.354692, -11.199772), (12.867315, -11.238355), (12.916946, -11.246635), (12.974808, -11.256287), (13.338612, -11.304496), (13.479175, -11.304496), (13.564596, -11.304496), (13.822304, -11.053697), (13.822304, -10.97102), (13.822304, -10.909018), (13.721695, -10.727103), (13.495711, -10.64717), (13.421263, -10.64717), (13.221467, -10.666474), (13.188396, -10.669217), (12.985831, -10.684381), (12.907269, -10.684381), (12.825964, -10.684381), (12.584841, -10.485956), (12.47872, -10.042218), (12.47872, -9.894771), (12.47872, -9.313238), (13.5839, -9.313238), (13.666602, -9.313238), (13.917376, -9.069322), (13.917376, -8.989413), (13.917376, -8.908108), (13.68174, -8.665563), (13.603204, -8.665563), align=None)
        Polygon((11.697365, -8.665563), (9.23067, -8.665563), (11.764879, -5.551193), align=None, mode=Mode.SUBTRACT)
    extrude(amount=-F5_DEPTH)


solid = Compound([f1.part, f5.part])
